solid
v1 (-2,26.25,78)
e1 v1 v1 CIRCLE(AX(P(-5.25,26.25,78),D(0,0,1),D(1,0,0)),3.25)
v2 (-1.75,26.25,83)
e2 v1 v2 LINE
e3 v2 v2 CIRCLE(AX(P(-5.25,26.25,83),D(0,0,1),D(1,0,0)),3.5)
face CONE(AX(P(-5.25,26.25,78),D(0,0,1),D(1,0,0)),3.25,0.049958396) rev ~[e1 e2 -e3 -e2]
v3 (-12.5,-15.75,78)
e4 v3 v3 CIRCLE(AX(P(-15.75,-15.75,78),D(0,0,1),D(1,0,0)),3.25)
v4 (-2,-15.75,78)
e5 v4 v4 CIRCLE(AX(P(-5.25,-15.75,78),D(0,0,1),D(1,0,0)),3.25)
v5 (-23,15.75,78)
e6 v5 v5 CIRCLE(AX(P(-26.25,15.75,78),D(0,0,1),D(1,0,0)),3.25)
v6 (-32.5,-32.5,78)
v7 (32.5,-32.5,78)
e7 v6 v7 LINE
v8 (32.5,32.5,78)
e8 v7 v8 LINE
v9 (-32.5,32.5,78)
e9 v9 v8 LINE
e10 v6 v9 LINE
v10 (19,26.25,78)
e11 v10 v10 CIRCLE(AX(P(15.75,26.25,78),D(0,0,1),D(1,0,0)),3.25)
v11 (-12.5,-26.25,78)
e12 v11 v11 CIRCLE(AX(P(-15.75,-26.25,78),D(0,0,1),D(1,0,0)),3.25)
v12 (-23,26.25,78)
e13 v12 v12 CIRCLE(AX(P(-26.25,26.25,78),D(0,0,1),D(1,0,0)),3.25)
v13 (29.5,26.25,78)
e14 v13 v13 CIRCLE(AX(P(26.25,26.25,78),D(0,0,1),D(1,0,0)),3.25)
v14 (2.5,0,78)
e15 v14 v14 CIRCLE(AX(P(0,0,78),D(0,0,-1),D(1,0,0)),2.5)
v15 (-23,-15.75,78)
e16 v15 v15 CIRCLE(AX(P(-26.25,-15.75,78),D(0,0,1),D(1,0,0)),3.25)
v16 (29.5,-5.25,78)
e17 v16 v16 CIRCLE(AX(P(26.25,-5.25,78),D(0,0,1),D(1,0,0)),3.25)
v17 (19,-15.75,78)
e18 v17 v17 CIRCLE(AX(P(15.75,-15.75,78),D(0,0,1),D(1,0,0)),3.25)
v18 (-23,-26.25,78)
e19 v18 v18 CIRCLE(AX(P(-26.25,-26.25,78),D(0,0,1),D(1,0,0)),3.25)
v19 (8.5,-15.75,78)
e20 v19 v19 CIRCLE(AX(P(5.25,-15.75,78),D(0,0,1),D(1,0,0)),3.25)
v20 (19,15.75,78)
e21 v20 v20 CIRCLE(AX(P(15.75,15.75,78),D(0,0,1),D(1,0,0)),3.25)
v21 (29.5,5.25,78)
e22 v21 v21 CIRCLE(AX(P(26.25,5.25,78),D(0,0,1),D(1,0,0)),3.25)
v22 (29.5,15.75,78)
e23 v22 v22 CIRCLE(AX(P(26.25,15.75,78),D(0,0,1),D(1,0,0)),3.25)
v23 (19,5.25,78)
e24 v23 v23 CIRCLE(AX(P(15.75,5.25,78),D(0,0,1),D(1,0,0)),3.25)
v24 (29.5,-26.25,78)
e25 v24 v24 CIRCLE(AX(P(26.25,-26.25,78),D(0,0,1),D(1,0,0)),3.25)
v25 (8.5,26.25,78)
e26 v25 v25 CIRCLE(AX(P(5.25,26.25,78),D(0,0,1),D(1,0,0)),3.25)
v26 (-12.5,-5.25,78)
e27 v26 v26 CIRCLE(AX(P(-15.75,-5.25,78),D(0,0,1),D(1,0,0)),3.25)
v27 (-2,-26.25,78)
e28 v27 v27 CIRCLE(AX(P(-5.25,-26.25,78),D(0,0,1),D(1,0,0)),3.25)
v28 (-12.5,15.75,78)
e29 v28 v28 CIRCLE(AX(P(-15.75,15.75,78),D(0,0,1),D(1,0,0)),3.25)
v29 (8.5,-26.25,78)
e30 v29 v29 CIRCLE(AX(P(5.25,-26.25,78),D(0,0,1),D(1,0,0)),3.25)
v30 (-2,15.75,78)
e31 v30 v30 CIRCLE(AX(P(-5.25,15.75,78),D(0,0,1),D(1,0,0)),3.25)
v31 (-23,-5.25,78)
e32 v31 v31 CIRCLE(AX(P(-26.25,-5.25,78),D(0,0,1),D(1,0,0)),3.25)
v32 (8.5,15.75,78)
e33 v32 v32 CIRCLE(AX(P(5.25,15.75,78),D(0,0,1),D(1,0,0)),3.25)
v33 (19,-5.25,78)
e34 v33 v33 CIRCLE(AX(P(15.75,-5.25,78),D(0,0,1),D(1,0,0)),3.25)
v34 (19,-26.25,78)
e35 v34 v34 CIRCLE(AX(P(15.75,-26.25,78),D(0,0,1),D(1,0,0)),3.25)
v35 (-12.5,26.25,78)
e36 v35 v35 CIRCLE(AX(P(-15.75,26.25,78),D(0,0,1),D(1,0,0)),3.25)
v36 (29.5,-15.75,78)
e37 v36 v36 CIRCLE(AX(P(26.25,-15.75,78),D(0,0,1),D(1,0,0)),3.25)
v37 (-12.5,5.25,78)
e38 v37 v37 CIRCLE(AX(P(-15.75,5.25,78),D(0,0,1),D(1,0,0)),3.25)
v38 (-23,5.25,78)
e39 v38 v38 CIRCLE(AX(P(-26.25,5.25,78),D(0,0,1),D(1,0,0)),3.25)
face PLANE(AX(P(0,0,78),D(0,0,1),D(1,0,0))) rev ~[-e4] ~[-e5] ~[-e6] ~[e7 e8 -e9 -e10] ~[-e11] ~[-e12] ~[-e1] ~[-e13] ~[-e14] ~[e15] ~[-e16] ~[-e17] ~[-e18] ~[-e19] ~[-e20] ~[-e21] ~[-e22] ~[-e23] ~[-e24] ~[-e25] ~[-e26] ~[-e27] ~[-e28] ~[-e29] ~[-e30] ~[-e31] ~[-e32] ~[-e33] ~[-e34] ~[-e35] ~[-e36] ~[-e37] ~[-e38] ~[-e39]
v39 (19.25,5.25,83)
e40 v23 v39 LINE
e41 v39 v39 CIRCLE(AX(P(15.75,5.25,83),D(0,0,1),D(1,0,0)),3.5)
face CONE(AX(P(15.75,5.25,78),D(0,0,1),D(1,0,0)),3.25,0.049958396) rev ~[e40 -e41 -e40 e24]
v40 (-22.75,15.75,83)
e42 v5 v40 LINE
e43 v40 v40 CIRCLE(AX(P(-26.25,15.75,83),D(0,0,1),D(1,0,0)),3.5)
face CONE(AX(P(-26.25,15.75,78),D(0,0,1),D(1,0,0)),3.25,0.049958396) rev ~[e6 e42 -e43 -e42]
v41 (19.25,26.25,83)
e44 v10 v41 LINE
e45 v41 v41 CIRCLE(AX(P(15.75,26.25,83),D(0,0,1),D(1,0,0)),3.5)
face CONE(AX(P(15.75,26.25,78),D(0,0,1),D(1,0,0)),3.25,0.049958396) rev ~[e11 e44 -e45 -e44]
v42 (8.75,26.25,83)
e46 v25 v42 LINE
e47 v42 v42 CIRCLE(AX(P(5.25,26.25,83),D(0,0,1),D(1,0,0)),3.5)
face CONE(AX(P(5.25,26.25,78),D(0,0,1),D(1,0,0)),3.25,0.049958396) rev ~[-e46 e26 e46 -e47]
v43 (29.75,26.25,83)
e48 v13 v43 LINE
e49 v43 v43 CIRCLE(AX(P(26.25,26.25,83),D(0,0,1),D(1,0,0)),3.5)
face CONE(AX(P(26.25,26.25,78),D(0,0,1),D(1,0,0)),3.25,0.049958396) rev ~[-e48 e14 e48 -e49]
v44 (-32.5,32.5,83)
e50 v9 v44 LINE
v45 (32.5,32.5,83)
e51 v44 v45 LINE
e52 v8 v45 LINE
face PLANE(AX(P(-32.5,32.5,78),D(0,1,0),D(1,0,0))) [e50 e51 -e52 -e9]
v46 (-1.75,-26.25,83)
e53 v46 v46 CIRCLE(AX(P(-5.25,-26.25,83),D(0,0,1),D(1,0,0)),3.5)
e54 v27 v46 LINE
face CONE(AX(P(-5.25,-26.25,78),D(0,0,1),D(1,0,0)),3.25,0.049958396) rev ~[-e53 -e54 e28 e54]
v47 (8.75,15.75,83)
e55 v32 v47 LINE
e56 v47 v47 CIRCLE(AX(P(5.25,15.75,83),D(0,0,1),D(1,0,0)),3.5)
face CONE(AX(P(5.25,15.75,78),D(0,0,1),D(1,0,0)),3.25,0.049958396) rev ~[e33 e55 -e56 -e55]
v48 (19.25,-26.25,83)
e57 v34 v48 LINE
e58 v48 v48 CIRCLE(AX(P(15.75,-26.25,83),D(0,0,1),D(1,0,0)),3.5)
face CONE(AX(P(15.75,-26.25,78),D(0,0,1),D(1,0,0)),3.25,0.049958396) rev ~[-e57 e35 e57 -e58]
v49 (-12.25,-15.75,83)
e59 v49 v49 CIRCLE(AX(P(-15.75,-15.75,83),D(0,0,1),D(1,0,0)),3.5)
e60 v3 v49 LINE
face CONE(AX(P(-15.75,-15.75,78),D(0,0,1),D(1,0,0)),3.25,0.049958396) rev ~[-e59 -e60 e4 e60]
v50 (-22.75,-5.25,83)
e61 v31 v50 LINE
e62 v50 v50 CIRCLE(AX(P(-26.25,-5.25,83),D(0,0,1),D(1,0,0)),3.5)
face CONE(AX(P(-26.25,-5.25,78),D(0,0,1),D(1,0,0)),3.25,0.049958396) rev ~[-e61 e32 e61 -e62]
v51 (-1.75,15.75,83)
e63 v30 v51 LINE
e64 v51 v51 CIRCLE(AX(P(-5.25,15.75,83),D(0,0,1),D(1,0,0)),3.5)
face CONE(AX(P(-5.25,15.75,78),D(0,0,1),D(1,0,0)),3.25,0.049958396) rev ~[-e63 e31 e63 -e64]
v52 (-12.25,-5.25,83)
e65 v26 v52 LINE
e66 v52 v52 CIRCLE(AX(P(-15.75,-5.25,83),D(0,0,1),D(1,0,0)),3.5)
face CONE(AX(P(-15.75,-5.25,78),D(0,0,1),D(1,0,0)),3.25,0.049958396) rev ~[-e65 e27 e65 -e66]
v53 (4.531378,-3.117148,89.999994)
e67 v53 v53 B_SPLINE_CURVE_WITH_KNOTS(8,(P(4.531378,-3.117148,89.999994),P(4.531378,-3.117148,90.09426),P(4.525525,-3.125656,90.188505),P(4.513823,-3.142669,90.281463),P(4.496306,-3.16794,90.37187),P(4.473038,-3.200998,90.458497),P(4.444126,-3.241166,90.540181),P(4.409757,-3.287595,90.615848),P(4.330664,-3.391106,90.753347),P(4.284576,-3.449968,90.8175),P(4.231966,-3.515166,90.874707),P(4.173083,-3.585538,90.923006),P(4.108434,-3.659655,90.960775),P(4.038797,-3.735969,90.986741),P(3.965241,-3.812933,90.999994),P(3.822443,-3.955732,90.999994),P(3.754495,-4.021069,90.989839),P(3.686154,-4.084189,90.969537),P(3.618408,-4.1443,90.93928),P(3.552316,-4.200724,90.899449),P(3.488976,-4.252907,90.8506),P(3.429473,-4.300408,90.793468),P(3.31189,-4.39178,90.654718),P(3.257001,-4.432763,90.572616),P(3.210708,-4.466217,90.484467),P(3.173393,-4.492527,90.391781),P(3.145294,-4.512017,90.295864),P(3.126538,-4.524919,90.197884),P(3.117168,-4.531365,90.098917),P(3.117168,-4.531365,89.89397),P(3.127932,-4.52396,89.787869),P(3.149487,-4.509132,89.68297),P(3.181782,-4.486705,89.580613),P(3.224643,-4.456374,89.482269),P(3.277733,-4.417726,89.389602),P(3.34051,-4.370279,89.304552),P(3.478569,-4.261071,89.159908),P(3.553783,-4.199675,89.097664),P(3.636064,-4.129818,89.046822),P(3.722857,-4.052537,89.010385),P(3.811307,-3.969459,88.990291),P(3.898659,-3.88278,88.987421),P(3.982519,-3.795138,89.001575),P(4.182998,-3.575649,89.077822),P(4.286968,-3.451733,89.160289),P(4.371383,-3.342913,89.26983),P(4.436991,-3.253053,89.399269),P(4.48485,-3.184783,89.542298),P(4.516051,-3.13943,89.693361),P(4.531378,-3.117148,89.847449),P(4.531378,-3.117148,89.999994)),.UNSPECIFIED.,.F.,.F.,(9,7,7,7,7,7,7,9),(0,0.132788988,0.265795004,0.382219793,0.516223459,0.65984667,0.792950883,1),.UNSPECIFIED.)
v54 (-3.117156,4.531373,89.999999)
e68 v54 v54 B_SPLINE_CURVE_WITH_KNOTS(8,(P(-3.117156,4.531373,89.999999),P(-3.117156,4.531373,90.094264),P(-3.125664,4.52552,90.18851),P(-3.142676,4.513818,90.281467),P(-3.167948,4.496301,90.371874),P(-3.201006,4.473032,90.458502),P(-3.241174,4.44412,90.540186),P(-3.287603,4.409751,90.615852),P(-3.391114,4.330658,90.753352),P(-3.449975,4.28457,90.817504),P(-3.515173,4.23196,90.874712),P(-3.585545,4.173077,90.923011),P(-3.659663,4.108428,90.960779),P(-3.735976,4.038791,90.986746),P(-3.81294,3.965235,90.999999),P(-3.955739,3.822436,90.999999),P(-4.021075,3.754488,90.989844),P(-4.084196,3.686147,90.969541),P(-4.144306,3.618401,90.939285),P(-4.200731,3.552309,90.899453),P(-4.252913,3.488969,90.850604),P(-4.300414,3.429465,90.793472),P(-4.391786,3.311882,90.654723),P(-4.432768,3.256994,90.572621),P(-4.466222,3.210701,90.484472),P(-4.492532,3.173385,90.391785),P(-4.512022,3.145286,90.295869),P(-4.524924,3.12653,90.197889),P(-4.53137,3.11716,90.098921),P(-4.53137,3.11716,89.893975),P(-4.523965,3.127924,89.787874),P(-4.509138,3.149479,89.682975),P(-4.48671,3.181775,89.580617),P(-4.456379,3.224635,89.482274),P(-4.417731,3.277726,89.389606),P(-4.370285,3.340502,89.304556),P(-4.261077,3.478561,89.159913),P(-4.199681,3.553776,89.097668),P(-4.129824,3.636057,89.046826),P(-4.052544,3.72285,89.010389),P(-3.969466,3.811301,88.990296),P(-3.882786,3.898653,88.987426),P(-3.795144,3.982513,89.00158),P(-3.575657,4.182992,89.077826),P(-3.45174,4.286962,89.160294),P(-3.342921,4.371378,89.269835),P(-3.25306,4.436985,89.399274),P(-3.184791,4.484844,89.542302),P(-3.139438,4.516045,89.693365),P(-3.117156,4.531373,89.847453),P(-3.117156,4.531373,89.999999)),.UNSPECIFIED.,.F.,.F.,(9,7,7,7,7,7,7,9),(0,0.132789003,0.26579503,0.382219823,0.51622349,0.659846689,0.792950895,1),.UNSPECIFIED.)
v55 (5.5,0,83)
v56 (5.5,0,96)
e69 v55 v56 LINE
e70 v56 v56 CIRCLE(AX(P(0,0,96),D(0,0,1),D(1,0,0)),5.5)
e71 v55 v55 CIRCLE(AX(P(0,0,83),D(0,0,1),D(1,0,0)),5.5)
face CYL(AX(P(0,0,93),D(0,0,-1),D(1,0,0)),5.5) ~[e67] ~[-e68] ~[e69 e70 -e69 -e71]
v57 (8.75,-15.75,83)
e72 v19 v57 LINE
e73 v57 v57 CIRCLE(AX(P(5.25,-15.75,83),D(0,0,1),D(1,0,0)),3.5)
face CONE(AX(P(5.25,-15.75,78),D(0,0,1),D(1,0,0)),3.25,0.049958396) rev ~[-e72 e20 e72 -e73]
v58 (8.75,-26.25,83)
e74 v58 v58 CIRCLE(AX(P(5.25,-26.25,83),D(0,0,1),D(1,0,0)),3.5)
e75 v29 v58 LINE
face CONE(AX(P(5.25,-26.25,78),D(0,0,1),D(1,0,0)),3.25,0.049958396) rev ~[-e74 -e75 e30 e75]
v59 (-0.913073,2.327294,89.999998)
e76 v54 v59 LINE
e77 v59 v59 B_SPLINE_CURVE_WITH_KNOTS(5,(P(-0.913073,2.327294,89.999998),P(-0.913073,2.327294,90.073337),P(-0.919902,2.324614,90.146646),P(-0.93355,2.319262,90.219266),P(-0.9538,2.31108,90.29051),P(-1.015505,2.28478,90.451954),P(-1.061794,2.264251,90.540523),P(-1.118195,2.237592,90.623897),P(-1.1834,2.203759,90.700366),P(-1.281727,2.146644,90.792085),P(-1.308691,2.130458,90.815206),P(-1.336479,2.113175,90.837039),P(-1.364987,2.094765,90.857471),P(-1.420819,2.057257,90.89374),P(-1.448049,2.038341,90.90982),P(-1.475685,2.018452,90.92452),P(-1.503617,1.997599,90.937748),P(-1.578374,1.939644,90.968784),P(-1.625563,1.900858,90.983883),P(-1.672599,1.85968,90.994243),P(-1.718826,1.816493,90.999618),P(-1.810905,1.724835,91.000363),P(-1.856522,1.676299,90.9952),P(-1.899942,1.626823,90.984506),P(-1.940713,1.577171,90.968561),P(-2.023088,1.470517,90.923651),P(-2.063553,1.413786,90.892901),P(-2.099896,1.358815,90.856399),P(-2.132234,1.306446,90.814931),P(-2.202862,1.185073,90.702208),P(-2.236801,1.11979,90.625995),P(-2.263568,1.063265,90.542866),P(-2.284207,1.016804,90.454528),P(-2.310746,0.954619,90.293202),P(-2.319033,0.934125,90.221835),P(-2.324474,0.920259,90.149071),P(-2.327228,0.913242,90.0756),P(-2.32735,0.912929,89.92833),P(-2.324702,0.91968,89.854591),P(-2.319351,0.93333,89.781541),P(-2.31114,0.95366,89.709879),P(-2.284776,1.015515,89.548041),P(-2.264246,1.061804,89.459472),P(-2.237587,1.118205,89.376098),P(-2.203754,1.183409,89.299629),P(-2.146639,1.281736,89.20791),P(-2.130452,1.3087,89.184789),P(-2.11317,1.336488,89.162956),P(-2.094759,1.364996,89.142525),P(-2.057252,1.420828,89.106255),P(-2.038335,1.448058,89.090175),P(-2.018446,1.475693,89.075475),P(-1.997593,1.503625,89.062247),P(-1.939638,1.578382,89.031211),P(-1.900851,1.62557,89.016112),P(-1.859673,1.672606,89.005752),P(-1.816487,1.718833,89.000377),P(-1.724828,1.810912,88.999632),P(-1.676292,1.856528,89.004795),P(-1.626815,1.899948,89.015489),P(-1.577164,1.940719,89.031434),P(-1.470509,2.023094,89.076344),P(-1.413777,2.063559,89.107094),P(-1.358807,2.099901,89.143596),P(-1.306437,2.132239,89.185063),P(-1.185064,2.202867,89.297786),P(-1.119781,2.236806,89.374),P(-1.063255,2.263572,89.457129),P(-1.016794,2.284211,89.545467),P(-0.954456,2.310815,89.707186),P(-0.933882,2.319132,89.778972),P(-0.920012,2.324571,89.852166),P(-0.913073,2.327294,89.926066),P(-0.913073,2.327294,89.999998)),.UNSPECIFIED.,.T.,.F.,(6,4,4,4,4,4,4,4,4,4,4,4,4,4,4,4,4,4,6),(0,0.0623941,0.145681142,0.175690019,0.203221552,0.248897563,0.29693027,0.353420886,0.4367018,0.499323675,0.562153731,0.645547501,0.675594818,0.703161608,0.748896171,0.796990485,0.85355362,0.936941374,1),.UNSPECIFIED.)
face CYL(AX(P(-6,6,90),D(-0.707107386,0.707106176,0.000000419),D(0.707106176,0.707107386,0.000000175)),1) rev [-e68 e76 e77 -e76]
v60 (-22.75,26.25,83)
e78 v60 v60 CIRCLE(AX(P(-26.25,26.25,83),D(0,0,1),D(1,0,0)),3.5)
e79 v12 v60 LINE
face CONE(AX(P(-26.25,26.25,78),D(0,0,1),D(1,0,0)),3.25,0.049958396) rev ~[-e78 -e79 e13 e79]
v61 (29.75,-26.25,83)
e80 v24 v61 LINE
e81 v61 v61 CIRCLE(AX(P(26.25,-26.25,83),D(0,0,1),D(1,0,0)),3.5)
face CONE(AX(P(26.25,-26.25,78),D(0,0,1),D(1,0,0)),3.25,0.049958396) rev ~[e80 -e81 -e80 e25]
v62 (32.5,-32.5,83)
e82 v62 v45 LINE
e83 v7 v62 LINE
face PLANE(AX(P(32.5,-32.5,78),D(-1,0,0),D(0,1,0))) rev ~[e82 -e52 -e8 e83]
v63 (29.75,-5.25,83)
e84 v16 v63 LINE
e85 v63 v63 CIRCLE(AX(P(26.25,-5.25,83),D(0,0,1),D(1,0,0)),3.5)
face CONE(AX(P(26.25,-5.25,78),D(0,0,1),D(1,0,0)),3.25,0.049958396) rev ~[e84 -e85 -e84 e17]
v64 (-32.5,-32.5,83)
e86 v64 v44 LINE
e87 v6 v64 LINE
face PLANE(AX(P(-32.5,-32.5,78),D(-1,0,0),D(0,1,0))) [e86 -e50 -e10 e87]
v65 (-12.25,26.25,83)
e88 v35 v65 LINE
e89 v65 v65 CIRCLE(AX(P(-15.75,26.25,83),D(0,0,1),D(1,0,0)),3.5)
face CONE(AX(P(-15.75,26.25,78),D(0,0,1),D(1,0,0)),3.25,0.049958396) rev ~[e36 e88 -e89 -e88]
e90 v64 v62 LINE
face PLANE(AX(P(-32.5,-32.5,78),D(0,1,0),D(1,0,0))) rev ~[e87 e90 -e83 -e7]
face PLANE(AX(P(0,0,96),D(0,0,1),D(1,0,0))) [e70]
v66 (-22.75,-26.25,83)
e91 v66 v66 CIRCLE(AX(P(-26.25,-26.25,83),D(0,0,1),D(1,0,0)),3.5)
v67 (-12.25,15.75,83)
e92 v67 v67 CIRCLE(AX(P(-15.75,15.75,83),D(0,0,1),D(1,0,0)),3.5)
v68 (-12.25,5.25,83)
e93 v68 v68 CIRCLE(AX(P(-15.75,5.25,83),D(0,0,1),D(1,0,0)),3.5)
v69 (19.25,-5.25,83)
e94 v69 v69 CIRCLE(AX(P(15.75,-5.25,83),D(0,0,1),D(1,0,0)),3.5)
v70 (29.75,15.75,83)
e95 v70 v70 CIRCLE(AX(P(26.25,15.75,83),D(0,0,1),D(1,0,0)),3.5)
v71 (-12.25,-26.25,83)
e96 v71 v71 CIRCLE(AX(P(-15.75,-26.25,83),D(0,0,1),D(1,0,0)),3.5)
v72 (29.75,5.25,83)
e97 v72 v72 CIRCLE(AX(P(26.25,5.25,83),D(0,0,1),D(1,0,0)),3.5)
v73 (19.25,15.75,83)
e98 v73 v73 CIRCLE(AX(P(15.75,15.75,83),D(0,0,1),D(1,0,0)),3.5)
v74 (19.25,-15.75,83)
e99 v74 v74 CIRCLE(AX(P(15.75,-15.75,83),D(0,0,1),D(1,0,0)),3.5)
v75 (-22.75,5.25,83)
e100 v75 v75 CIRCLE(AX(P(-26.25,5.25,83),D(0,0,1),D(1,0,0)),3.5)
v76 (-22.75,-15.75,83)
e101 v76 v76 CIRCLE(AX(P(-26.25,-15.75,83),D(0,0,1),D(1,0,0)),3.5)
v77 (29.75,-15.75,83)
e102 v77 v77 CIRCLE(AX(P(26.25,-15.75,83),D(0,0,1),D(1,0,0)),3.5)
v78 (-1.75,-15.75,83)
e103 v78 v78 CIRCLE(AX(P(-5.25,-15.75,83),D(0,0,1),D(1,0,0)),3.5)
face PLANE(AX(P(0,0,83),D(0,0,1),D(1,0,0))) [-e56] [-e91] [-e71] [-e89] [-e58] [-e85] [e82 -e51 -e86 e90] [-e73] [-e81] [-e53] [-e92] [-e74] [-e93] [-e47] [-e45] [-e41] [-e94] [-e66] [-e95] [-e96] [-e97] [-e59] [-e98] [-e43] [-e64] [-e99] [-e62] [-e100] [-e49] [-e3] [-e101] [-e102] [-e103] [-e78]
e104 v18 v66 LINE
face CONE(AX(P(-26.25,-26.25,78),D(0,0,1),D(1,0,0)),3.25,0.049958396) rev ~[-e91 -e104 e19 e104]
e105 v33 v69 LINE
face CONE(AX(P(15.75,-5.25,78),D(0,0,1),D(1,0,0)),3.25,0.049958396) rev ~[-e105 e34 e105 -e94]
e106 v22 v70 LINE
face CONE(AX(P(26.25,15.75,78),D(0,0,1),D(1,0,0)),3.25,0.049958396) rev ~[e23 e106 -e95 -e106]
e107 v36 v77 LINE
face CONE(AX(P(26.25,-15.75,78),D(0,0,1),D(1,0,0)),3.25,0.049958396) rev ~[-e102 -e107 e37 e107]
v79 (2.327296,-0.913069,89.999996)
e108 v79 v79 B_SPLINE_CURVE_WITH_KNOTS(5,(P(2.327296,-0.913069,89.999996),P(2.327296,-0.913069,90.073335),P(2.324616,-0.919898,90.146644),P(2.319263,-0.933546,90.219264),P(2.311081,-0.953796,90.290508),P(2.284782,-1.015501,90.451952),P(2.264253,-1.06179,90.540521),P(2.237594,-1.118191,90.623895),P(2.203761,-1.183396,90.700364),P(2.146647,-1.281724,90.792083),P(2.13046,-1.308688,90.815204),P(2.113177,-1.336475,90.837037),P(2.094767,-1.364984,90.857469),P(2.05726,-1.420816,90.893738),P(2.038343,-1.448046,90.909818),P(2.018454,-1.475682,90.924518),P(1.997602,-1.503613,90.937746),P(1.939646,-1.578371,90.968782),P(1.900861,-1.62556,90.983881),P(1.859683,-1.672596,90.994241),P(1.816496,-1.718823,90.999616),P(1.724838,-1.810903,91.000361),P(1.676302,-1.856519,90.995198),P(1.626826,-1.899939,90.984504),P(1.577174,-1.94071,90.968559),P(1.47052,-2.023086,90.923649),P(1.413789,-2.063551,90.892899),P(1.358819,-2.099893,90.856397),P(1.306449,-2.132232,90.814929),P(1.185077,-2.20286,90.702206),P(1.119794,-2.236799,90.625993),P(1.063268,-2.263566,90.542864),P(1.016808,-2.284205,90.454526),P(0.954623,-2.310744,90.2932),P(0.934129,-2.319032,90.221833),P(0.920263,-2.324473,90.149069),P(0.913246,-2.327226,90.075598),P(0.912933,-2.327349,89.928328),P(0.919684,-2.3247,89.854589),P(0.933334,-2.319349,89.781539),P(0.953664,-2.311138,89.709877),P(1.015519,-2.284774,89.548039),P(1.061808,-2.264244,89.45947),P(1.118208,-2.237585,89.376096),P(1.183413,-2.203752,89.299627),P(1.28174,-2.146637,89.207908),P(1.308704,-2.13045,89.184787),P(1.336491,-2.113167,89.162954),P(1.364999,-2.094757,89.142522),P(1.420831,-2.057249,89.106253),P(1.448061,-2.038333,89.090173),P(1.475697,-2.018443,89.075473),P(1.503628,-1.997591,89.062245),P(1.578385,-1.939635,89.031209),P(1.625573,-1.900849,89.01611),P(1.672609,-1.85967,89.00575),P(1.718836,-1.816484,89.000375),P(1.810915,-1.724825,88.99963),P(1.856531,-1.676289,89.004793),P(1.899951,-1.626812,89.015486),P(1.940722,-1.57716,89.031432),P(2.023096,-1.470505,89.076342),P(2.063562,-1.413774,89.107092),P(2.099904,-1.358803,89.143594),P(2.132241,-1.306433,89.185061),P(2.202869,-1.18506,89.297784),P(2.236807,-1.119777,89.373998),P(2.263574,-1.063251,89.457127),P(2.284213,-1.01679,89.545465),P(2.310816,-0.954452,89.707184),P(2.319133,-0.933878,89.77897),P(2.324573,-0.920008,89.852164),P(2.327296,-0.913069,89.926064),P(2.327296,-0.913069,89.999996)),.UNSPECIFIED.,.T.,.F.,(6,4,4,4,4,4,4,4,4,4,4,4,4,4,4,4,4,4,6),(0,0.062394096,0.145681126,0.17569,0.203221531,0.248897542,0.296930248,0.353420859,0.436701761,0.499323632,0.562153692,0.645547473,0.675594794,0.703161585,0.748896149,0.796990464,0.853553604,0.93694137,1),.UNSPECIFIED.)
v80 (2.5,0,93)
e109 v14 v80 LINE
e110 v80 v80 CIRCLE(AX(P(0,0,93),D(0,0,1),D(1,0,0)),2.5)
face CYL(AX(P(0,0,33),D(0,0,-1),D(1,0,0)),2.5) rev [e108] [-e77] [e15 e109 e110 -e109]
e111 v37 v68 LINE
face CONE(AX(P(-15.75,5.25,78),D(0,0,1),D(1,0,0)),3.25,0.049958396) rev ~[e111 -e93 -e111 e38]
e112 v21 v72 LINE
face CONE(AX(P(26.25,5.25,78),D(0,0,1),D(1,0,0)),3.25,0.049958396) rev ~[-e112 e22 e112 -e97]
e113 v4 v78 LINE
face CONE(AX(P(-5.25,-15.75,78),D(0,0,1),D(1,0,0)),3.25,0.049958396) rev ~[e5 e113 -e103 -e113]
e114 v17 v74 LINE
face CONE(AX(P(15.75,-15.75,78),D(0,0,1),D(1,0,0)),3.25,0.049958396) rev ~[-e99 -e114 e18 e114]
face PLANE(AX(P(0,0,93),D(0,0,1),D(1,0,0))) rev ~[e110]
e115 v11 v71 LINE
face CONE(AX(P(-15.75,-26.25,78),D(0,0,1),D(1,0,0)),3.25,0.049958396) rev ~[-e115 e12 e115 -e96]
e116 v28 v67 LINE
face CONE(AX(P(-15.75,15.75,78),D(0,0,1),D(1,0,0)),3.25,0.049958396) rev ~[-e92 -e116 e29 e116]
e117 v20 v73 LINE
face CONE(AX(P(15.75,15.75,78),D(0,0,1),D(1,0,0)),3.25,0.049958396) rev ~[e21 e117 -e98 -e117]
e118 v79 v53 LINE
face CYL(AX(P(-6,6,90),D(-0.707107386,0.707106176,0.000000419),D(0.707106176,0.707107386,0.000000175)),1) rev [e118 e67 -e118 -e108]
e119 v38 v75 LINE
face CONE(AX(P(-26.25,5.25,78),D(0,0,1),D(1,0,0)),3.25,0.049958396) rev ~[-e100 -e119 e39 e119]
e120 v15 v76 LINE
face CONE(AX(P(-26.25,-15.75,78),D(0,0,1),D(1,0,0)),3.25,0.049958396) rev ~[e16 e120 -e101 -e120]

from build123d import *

# Parameters (mm, degrees)
CYLINDER028_R               = 1
CYLINDER028_DEPTH           = 15
CYLINDER028_ROLL_ANGLE      = 90.000024
CYLINDER028_PITCH_ANGLE     = -1e-05
CYLINDER028_PLACEMENT_ANGLE = 45.000049
CYLINDER027_R               = 5.5
CYLINDER027_DEPTH           = 3
CYLINDER020_R               = 2.5
CYLINDER020_DEPTH           = 60
CYLINDER019_R               = 5.5
CYLINDER019_DEPTH           = 10
BOX001_W                    = 65
BOX001_H                    = 65
BOX001_DEPTH                = 5


with BuildPart() as kegel025:
    # Cone025 → Cone025 (revolve)
    with BuildSketch(Plane(origin=(-15.75, -26.25, 78), x_dir=(1, 0, 0), z_dir=(0, -1, 0))):
        Polygon((0, 0), (3.25, 0), (3.5, 5), (0, 5), align=None)
    revolve(axis=Axis((-15.75, -26.25, 78), (0, 0, 1)))


with BuildPart() as kegel026:
    # Cone026 → Cone026 (revolve)
    with BuildSketch(Plane(origin=(-26.25, -26.25, 78), x_dir=(1, 0, 0), z_dir=(0, -1, 0))):
        Polygon((0, 0), (3.25, 0), (3.5, 5), (0, 5), align=None)
    revolve(axis=Axis((-26.25, -26.25, 78), (0, 0, 1)))


with BuildPart() as kegel027:
    # Cone027 → Cone027 (revolve)
    with BuildSketch(Plane(origin=(-26.25, -15.75, 78), x_dir=(1, 0, 0), z_dir=(0, -1, 0))):
        Polygon((0, 0), (3.25, 0), (3.5, 5), (0, 5), align=None)
    revolve(axis=Axis((-26.25, -15.75, 78), (0, 0, 1)))


with BuildPart() as kegel028:
    # Cone028 → Cone028 (revolve)
    with BuildSketch(Plane(origin=(-26.25, -5.25, 78), x_dir=(1, 0, 0), z_dir=(0, -1, 0))):
        Polygon((0, 0), (3.25, 0), (3.5, 5), (0, 5), align=None)
    revolve(axis=Axis((-26.25, -5.25, 78), (0, 0, 1)))


with BuildPart() as kegel029:
    # Cone029 → Cone029 (revolve)
    with BuildSketch(Plane(origin=(-26.25, 5.25, 78), x_dir=(1, 0, 0), z_dir=(0, -1, 0))):
        Polygon((0, 0), (3.25, 0), (3.5, 5), (0, 5), align=None)
    revolve(axis=Axis((-26.25, 5.25, 78), (0, 0, 1)))


with BuildPart() as kegel030:
    # Cone030 → Cone030 (revolve)
    with BuildSketch(Plane(origin=(-26.25, 15.75, 78), x_dir=(1, 0, 0), z_dir=(0, -1, 0))):
        Polygon((0, 0), (3.25, 0), (3.5, 5), (0, 5), align=None)
    revolve(axis=Axis((-26.25, 15.75, 78), (0, 0, 1)))


with BuildPart() as kegel031:
    # Cone031 → Cone031 (revolve)
    with BuildSketch(Plane(origin=(-26.25, 26.25, 78), x_dir=(1, 0, 0), z_dir=(0, -1, 0))):
        Polygon((0, 0), (3.25, 0), (3.5, 5), (0, 5), align=None)
    revolve(axis=Axis((-26.25, 26.25, 78), (0, 0, 1)))


with BuildPart() as kegel024:
    # Cone024 → Cone024 (revolve)
    with BuildSketch(Plane(origin=(-5.25, -26.25, 78), x_dir=(1, 0, 0), z_dir=(0, -1, 0))):
        Polygon((0, 0), (3.25, 0), (3.5, 5), (0, 5), align=None)
    revolve(axis=Axis((-5.25, -26.25, 78), (0, 0, 1)))


with BuildPart() as zylinder026:
    # Cylinder028 → Cylinder028 (new body)
    with BuildSketch(Plane.XY):
        Circle(CYLINDER028_R)
    extrude(amount=CYLINDER028_DEPTH)


with BuildPart() as zylinder026_1:
    # Cylinder028 roll: moved
    add(zylinder026.part.rotate(Axis((0, 0, 0), (1, 0, 0)), CYLINDER028_ROLL_ANGLE))


with BuildPart() as zylinder026_2:
    # Cylinder028 pitch: moved
    add(zylinder026_1.part.rotate(Axis((0, 0, 0), (0, 1, 0)), CYLINDER028_PITCH_ANGLE))


with BuildPart() as zylinder026_3:
    # Cylinder028 placement: moved
    add(zylinder026_2.part.moved(Location((-6, 6, 90))).rotate(Axis((-6, 6, 90), (0, 0, 1)), CYLINDER028_PLACEMENT_ANGLE))


with BuildPart() as zylinder025:
    # Cylinder027 → Cylinder027 (new body)
    with BuildSketch(Plane.XY.offset(93)):
        Circle(CYLINDER027_R)
    extrude(amount=CYLINDER027_DEPTH)


with BuildPart() as spindel001:
    # Cylinder020 → Cylinder020 (new body)
    with BuildSketch(Plane.XY.offset(33)):
        Circle(CYLINDER020_R)
    extrude(amount=CYLINDER020_DEPTH)


with BuildPart() as zylinder018:
    # Cylinder019 → Cylinder019 (new body)
    with BuildSketch(Plane.XY.offset(83)):
        Circle(CYLINDER019_R)
    extrude(amount=CYLINDER019_DEPTH)


with BuildPart() as kegel001:
    # Cone001 → Cone001 (revolve)
    with BuildSketch(Plane(origin=(26.25, 15.75, 78), x_dir=(1, 0, 0), z_dir=(0, -1, 0))):
        Polygon((0, 0), (3.25, 0), (3.5, 5), (0, 5), align=None)
    revolve(axis=Axis((26.25, 15.75, 78), (0, 0, 1)))


with BuildPart() as kegel002:
    # Cone002 → Cone002 (revolve)
    with BuildSketch(Plane(origin=(26.25, 5.25, 78), x_dir=(1, 0, 0), z_dir=(0, -1, 0))):
        Polygon((0, 0), (3.25, 0), (3.5, 5), (0, 5), align=None)
    revolve(axis=Axis((26.25, 5.25, 78), (0, 0, 1)))


with BuildPart() as kegel003:
    # Cone003 → Cone003 (revolve)
    with BuildSketch(Plane(origin=(26.25, -5.25, 78), x_dir=(1, 0, 0), z_dir=(0, -1, 0))):
        Polygon((0, 0), (3.25, 0), (3.5, 5), (0, 5), align=None)
    revolve(axis=Axis((26.25, -5.25, 78), (0, 0, 1)))


with BuildPart() as kegel004:
    # Cone004 → Cone004 (revolve)
    with BuildSketch(Plane(origin=(15.75, -15.75, 78), x_dir=(1, 0, 0), z_dir=(0, -1, 0))):
        Polygon((0, 0), (3.25, 0), (3.5, 5), (0, 5), align=None)
    revolve(axis=Axis((15.75, -15.75, 78), (0, 0, 1)))


with BuildPart() as kegel005:
    # Cone005 → Cone005 (revolve)
    with BuildSketch(Plane(origin=(26.25, -15.75, 78), x_dir=(1, 0, 0), z_dir=(0, -1, 0))):
        Polygon((0, 0), (3.25, 0), (3.5, 5), (0, 5), align=None)
    revolve(axis=Axis((26.25, -15.75, 78), (0, 0, 1)))


with BuildPart() as kegel006:
    # Cone006 → Cone006 (revolve)
    with BuildSketch(Plane(origin=(15.75, -5.25, 78), x_dir=(1, 0, 0), z_dir=(0, -1, 0))):
        Polygon((0, 0), (3.25, 0), (3.5, 5), (0, 5), align=None)
    revolve(axis=Axis((15.75, -5.25, 78), (0, 0, 1)))


with BuildPart() as kegel007:
    # Cone007 → Cone007 (revolve)
    with BuildSketch(Plane(origin=(15.75, 5.25, 78), x_dir=(1, 0, 0), z_dir=(0, -1, 0))):
        Polygon((0, 0), (3.25, 0), (3.5, 5), (0, 5), align=None)
    revolve(axis=Axis((15.75, 5.25, 78), (0, 0, 1)))


with BuildPart() as kegel008:
    # Cone008 → Cone008 (revolve)
    with BuildSketch(Plane(origin=(15.75, 15.75, 78), x_dir=(1, 0, 0), z_dir=(0, -1, 0))):
        Polygon((0, 0), (3.25, 0), (3.5, 5), (0, 5), align=None)
    revolve(axis=Axis((15.75, 15.75, 78), (0, 0, 1)))


with BuildPart() as kegel009:
    # Cone009 → Cone009 (revolve)
    with BuildSketch(Plane(origin=(15.75, 26.25, 78), x_dir=(1, 0, 0), z_dir=(0, -1, 0))):
        Polygon((0, 0), (3.25, 0), (3.5, 5), (0, 5), align=None)
    revolve(axis=Axis((15.75, 26.25, 78), (0, 0, 1)))


with BuildPart() as kegel010:
    # Cone010 → Cone010 (revolve)
    with BuildSketch(Plane(origin=(5.25, -15.75, 78), x_dir=(1, 0, 0), z_dir=(0, -1, 0))):
        Polygon((0, 0), (3.25, 0), (3.5, 5), (0, 5), align=None)
    revolve(axis=Axis((5.25, -15.75, 78), (0, 0, 1)))


with BuildPart() as kegel011:
    # Cone011 → Cone011 (revolve)
    with BuildSketch(Plane(origin=(-5.25, -15.75, 78), x_dir=(1, 0, 0), z_dir=(0, -1, 0))):
        Polygon((0, 0), (3.25, 0), (3.5, 5), (0, 5), align=None)
    revolve(axis=Axis((-5.25, -15.75, 78), (0, 0, 1)))


with BuildPart() as kegel012:
    # Cone012 → Cone012 (revolve)
    with BuildSketch(Plane(origin=(-15.75, -15.75, 78), x_dir=(1, 0, 0), z_dir=(0, -1, 0))):
        Polygon((0, 0), (3.25, 0), (3.5, 5), (0, 5), align=None)
    revolve(axis=Axis((-15.75, -15.75, 78), (0, 0, 1)))


with BuildPart() as kegel013:
    # Cone013 → Cone013 (revolve)
    with BuildSketch(Plane(origin=(-15.75, -5.25, 78), x_dir=(1, 0, 0), z_dir=(0, -1, 0))):
        Polygon((0, 0), (3.25, 0), (3.5, 5), (0, 5), align=None)
    revolve(axis=Axis((-15.75, -5.25, 78), (0, 0, 1)))


with BuildPart() as kegel014:
    # Cone014 → Cone014 (revolve)
    with BuildSketch(Plane(origin=(-15.75, 5.25, 78), x_dir=(1, 0, 0), z_dir=(0, -1, 0))):
        Polygon((0, 0), (3.25, 0), (3.5, 5), (0, 5), align=None)
    revolve(axis=Axis((-15.75, 5.25, 78), (0, 0, 1)))


with BuildPart() as kegel015:
    # Cone015 → Cone015 (revolve)
    with BuildSketch(Plane(origin=(-15.75, 15.75, 78), x_dir=(1, 0, 0), z_dir=(0, -1, 0))):
        Polygon((0, 0), (3.25, 0), (3.5, 5), (0, 5), align=None)
    revolve(axis=Axis((-15.75, 15.75, 78), (0, 0, 1)))


with BuildPart() as kegel016:
    # Cone016 → Cone016 (revolve)
    with BuildSketch(Plane(origin=(-15.75, 26.25, 78), x_dir=(1, 0, 0), z_dir=(0, -1, 0))):
        Polygon((0, 0), (3.25, 0), (3.5, 5), (0, 5), align=None)
    revolve(axis=Axis((-15.75, 26.25, 78), (0, 0, 1)))


with BuildPart() as kegel017:
    # Cone017 → Cone017 (revolve)
    with BuildSketch(Plane(origin=(-5.25, 26.25, 78), x_dir=(1, 0, 0), z_dir=(0, -1, 0))):
        Polygon((0, 0), (3.25, 0), (3.5, 5), (0, 5), align=None)
    revolve(axis=Axis((-5.25, 26.25, 78), (0, 0, 1)))


with BuildPart() as kegel018:
    # Cone018 → Cone018 (revolve)
    with BuildSketch(Plane(origin=(5.25, 26.25, 78), x_dir=(1, 0, 0), z_dir=(0, -1, 0))):
        Polygon((0, 0), (3.25, 0), (3.5, 5), (0, 5), align=None)
    revolve(axis=Axis((5.25, 26.25, 78), (0, 0, 1)))


with BuildPart() as kegel019:
    # Cone019 → Cone019 (revolve)
    with BuildSketch(Plane(origin=(-5.25, 15.75, 78), x_dir=(1, 0, 0), z_dir=(0, -1, 0))):
        Polygon((0, 0), (3.25, 0), (3.5, 5), (0, 5), align=None)
    revolve(axis=Axis((-5.25, 15.75, 78), (0, 0, 1)))


with BuildPart() as kegel020:
    # Cone020 → Cone020 (revolve)
    with BuildSketch(Plane(origin=(5.25, 15.75, 78), x_dir=(1, 0, 0), z_dir=(0, -1, 0))):
        Polygon((0, 0), (3.25, 0), (3.5, 5), (0, 5), align=None)
    revolve(axis=Axis((5.25, 15.75, 78), (0, 0, 1)))


with BuildPart() as kegel021:
    # Cone021 → Cone021 (revolve)
    with BuildSketch(Plane(origin=(5.25, -26.25, 78), x_dir=(1, 0, 0), z_dir=(0, -1, 0))):
        Polygon((0, 0), (3.25, 0), (3.5, 5), (0, 5), align=None)
    revolve(axis=Axis((5.25, -26.25, 78), (0, 0, 1)))


with BuildPart() as kegel022:
    # Cone022 → Cone022 (revolve)
    with BuildSketch(Plane(origin=(15.75, -26.25, 78), x_dir=(1, 0, 0), z_dir=(0, -1, 0))):
        Polygon((0, 0), (3.25, 0), (3.5, 5), (0, 5), align=None)
    revolve(axis=Axis((15.75, -26.25, 78), (0, 0, 1)))


with BuildPart() as kegel023:
    # Cone023 → Cone023 (revolve)
    with BuildSketch(Plane(origin=(26.25, -26.25, 78), x_dir=(1, 0, 0), z_dir=(0, -1, 0))):
        Polygon((0, 0), (3.25, 0), (3.5, 5), (0, 5), align=None)
    revolve(axis=Axis((26.25, -26.25, 78), (0, 0, 1)))


with BuildPart() as kegel:
    # Cone → Cone (revolve)
    with BuildSketch(Plane(origin=(26.25, 26.25, 78), x_dir=(1, 0, 0), z_dir=(0, -1, 0))):
        Polygon((0, 0), (3.25, 0), (3.5, 5), (0, 5), align=None)
    revolve(axis=Axis((26.25, 26.25, 78), (0, 0, 1)))


with BuildPart() as top001:
    # Box001 → Box001 (new body)
    with BuildSketch(Plane(origin=(-32.5, -32.5, 78), x_dir=(1, 0, 0), z_dir=(0, 0, 1))):
        with Locations((32.5, 32.5)):
            Rectangle(BOX001_W, BOX001_H)
    extrude(amount=BOX001_DEPTH)

    # Cut008: cut Kegel
    add(kegel.part, mode=Mode.SUBTRACT)

    # Cut009: cut Kegel023
    add(kegel023.part, mode=Mode.SUBTRACT)

    # Cut010: cut Kegel022
    add(kegel022.part, mode=Mode.SUBTRACT)

    # Cut011: cut Kegel021
    add(kegel021.part, mode=Mode.SUBTRACT)

    # Cut012: cut Kegel020
    add(kegel020.part, mode=Mode.SUBTRACT)

    # Cut013: cut Kegel019
    add(kegel019.part, mode=Mode.SUBTRACT)

    # Cut014: cut Kegel018
    add(kegel018.part, mode=Mode.SUBTRACT)

    # Cut015: cut Kegel017
    add(kegel017.part, mode=Mode.SUBTRACT)

    # Cut016: cut Kegel016
    add(kegel016.part, mode=Mode.SUBTRACT)

    # Cut017: cut Kegel015
    add(kegel015.part, mode=Mode.SUBTRACT)

    # Cut018: cut Kegel014
    add(kegel014.part, mode=Mode.SUBTRACT)

    # Cut019: cut Kegel013
    add(kegel013.part, mode=Mode.SUBTRACT)

    # Cut020: cut Kegel012
    add(kegel012.part, mode=Mode.SUBTRACT)

    # Cut021: cut Kegel011
    add(kegel011.part, mode=Mode.SUBTRACT)

    # Cut022: cut Kegel010
    add(kegel010.part, mode=Mode.SUBTRACT)

    # Cut023: cut Kegel009
    add(kegel009.part, mode=Mode.SUBTRACT)

    # Cut024: cut Kegel008
    add(kegel008.part, mode=Mode.SUBTRACT)

    # Cut025: cut Kegel007
    add(kegel007.part, mode=Mode.SUBTRACT)

    # Cut026: cut Kegel006
    add(kegel006.part, mode=Mode.SUBTRACT)

    # Cut027: cut Kegel005
    add(kegel005.part, mode=Mode.SUBTRACT)

    # Cut028: cut Kegel004
    add(kegel004.part, mode=Mode.SUBTRACT)

    # Cut029: cut Kegel003
    add(kegel003.part, mode=Mode.SUBTRACT)

    # Cut030: cut Kegel002
    add(kegel002.part, mode=Mode.SUBTRACT)

    # Cut031: cut Kegel001
    add(kegel001.part, mode=Mode.SUBTRACT)

    # Fusion: union Zylinder018
    add(zylinder018.part)

    # Cut032: cut Spindel001
    add(spindel001.part, mode=Mode.SUBTRACT)

    # Fusion002: union Zylinder025
    add(zylinder025.part)

    # Cut042: cut Zylinder026
    add(zylinder026_3.part, mode=Mode.SUBTRACT)

    # Cut048: cut Kegel024
    add(kegel024.part, mode=Mode.SUBTRACT)

    # Cut049: cut Kegel031
    add(kegel031.part, mode=Mode.SUBTRACT)

    # Cut050: cut Kegel030
    add(kegel030.part, mode=Mode.SUBTRACT)

    # Cut051: cut Kegel029
    add(kegel029.part, mode=Mode.SUBTRACT)

    # Cut052: cut Kegel028
    add(kegel028.part, mode=Mode.SUBTRACT)

    # Cut053: cut Kegel027
    add(kegel027.part, mode=Mode.SUBTRACT)

    # Cut054: cut Kegel026
    add(kegel026.part, mode=Mode.SUBTRACT)

    # Cut055: cut Kegel025
    add(kegel025.part, mode=Mode.SUBTRACT)


solid = top001.part
